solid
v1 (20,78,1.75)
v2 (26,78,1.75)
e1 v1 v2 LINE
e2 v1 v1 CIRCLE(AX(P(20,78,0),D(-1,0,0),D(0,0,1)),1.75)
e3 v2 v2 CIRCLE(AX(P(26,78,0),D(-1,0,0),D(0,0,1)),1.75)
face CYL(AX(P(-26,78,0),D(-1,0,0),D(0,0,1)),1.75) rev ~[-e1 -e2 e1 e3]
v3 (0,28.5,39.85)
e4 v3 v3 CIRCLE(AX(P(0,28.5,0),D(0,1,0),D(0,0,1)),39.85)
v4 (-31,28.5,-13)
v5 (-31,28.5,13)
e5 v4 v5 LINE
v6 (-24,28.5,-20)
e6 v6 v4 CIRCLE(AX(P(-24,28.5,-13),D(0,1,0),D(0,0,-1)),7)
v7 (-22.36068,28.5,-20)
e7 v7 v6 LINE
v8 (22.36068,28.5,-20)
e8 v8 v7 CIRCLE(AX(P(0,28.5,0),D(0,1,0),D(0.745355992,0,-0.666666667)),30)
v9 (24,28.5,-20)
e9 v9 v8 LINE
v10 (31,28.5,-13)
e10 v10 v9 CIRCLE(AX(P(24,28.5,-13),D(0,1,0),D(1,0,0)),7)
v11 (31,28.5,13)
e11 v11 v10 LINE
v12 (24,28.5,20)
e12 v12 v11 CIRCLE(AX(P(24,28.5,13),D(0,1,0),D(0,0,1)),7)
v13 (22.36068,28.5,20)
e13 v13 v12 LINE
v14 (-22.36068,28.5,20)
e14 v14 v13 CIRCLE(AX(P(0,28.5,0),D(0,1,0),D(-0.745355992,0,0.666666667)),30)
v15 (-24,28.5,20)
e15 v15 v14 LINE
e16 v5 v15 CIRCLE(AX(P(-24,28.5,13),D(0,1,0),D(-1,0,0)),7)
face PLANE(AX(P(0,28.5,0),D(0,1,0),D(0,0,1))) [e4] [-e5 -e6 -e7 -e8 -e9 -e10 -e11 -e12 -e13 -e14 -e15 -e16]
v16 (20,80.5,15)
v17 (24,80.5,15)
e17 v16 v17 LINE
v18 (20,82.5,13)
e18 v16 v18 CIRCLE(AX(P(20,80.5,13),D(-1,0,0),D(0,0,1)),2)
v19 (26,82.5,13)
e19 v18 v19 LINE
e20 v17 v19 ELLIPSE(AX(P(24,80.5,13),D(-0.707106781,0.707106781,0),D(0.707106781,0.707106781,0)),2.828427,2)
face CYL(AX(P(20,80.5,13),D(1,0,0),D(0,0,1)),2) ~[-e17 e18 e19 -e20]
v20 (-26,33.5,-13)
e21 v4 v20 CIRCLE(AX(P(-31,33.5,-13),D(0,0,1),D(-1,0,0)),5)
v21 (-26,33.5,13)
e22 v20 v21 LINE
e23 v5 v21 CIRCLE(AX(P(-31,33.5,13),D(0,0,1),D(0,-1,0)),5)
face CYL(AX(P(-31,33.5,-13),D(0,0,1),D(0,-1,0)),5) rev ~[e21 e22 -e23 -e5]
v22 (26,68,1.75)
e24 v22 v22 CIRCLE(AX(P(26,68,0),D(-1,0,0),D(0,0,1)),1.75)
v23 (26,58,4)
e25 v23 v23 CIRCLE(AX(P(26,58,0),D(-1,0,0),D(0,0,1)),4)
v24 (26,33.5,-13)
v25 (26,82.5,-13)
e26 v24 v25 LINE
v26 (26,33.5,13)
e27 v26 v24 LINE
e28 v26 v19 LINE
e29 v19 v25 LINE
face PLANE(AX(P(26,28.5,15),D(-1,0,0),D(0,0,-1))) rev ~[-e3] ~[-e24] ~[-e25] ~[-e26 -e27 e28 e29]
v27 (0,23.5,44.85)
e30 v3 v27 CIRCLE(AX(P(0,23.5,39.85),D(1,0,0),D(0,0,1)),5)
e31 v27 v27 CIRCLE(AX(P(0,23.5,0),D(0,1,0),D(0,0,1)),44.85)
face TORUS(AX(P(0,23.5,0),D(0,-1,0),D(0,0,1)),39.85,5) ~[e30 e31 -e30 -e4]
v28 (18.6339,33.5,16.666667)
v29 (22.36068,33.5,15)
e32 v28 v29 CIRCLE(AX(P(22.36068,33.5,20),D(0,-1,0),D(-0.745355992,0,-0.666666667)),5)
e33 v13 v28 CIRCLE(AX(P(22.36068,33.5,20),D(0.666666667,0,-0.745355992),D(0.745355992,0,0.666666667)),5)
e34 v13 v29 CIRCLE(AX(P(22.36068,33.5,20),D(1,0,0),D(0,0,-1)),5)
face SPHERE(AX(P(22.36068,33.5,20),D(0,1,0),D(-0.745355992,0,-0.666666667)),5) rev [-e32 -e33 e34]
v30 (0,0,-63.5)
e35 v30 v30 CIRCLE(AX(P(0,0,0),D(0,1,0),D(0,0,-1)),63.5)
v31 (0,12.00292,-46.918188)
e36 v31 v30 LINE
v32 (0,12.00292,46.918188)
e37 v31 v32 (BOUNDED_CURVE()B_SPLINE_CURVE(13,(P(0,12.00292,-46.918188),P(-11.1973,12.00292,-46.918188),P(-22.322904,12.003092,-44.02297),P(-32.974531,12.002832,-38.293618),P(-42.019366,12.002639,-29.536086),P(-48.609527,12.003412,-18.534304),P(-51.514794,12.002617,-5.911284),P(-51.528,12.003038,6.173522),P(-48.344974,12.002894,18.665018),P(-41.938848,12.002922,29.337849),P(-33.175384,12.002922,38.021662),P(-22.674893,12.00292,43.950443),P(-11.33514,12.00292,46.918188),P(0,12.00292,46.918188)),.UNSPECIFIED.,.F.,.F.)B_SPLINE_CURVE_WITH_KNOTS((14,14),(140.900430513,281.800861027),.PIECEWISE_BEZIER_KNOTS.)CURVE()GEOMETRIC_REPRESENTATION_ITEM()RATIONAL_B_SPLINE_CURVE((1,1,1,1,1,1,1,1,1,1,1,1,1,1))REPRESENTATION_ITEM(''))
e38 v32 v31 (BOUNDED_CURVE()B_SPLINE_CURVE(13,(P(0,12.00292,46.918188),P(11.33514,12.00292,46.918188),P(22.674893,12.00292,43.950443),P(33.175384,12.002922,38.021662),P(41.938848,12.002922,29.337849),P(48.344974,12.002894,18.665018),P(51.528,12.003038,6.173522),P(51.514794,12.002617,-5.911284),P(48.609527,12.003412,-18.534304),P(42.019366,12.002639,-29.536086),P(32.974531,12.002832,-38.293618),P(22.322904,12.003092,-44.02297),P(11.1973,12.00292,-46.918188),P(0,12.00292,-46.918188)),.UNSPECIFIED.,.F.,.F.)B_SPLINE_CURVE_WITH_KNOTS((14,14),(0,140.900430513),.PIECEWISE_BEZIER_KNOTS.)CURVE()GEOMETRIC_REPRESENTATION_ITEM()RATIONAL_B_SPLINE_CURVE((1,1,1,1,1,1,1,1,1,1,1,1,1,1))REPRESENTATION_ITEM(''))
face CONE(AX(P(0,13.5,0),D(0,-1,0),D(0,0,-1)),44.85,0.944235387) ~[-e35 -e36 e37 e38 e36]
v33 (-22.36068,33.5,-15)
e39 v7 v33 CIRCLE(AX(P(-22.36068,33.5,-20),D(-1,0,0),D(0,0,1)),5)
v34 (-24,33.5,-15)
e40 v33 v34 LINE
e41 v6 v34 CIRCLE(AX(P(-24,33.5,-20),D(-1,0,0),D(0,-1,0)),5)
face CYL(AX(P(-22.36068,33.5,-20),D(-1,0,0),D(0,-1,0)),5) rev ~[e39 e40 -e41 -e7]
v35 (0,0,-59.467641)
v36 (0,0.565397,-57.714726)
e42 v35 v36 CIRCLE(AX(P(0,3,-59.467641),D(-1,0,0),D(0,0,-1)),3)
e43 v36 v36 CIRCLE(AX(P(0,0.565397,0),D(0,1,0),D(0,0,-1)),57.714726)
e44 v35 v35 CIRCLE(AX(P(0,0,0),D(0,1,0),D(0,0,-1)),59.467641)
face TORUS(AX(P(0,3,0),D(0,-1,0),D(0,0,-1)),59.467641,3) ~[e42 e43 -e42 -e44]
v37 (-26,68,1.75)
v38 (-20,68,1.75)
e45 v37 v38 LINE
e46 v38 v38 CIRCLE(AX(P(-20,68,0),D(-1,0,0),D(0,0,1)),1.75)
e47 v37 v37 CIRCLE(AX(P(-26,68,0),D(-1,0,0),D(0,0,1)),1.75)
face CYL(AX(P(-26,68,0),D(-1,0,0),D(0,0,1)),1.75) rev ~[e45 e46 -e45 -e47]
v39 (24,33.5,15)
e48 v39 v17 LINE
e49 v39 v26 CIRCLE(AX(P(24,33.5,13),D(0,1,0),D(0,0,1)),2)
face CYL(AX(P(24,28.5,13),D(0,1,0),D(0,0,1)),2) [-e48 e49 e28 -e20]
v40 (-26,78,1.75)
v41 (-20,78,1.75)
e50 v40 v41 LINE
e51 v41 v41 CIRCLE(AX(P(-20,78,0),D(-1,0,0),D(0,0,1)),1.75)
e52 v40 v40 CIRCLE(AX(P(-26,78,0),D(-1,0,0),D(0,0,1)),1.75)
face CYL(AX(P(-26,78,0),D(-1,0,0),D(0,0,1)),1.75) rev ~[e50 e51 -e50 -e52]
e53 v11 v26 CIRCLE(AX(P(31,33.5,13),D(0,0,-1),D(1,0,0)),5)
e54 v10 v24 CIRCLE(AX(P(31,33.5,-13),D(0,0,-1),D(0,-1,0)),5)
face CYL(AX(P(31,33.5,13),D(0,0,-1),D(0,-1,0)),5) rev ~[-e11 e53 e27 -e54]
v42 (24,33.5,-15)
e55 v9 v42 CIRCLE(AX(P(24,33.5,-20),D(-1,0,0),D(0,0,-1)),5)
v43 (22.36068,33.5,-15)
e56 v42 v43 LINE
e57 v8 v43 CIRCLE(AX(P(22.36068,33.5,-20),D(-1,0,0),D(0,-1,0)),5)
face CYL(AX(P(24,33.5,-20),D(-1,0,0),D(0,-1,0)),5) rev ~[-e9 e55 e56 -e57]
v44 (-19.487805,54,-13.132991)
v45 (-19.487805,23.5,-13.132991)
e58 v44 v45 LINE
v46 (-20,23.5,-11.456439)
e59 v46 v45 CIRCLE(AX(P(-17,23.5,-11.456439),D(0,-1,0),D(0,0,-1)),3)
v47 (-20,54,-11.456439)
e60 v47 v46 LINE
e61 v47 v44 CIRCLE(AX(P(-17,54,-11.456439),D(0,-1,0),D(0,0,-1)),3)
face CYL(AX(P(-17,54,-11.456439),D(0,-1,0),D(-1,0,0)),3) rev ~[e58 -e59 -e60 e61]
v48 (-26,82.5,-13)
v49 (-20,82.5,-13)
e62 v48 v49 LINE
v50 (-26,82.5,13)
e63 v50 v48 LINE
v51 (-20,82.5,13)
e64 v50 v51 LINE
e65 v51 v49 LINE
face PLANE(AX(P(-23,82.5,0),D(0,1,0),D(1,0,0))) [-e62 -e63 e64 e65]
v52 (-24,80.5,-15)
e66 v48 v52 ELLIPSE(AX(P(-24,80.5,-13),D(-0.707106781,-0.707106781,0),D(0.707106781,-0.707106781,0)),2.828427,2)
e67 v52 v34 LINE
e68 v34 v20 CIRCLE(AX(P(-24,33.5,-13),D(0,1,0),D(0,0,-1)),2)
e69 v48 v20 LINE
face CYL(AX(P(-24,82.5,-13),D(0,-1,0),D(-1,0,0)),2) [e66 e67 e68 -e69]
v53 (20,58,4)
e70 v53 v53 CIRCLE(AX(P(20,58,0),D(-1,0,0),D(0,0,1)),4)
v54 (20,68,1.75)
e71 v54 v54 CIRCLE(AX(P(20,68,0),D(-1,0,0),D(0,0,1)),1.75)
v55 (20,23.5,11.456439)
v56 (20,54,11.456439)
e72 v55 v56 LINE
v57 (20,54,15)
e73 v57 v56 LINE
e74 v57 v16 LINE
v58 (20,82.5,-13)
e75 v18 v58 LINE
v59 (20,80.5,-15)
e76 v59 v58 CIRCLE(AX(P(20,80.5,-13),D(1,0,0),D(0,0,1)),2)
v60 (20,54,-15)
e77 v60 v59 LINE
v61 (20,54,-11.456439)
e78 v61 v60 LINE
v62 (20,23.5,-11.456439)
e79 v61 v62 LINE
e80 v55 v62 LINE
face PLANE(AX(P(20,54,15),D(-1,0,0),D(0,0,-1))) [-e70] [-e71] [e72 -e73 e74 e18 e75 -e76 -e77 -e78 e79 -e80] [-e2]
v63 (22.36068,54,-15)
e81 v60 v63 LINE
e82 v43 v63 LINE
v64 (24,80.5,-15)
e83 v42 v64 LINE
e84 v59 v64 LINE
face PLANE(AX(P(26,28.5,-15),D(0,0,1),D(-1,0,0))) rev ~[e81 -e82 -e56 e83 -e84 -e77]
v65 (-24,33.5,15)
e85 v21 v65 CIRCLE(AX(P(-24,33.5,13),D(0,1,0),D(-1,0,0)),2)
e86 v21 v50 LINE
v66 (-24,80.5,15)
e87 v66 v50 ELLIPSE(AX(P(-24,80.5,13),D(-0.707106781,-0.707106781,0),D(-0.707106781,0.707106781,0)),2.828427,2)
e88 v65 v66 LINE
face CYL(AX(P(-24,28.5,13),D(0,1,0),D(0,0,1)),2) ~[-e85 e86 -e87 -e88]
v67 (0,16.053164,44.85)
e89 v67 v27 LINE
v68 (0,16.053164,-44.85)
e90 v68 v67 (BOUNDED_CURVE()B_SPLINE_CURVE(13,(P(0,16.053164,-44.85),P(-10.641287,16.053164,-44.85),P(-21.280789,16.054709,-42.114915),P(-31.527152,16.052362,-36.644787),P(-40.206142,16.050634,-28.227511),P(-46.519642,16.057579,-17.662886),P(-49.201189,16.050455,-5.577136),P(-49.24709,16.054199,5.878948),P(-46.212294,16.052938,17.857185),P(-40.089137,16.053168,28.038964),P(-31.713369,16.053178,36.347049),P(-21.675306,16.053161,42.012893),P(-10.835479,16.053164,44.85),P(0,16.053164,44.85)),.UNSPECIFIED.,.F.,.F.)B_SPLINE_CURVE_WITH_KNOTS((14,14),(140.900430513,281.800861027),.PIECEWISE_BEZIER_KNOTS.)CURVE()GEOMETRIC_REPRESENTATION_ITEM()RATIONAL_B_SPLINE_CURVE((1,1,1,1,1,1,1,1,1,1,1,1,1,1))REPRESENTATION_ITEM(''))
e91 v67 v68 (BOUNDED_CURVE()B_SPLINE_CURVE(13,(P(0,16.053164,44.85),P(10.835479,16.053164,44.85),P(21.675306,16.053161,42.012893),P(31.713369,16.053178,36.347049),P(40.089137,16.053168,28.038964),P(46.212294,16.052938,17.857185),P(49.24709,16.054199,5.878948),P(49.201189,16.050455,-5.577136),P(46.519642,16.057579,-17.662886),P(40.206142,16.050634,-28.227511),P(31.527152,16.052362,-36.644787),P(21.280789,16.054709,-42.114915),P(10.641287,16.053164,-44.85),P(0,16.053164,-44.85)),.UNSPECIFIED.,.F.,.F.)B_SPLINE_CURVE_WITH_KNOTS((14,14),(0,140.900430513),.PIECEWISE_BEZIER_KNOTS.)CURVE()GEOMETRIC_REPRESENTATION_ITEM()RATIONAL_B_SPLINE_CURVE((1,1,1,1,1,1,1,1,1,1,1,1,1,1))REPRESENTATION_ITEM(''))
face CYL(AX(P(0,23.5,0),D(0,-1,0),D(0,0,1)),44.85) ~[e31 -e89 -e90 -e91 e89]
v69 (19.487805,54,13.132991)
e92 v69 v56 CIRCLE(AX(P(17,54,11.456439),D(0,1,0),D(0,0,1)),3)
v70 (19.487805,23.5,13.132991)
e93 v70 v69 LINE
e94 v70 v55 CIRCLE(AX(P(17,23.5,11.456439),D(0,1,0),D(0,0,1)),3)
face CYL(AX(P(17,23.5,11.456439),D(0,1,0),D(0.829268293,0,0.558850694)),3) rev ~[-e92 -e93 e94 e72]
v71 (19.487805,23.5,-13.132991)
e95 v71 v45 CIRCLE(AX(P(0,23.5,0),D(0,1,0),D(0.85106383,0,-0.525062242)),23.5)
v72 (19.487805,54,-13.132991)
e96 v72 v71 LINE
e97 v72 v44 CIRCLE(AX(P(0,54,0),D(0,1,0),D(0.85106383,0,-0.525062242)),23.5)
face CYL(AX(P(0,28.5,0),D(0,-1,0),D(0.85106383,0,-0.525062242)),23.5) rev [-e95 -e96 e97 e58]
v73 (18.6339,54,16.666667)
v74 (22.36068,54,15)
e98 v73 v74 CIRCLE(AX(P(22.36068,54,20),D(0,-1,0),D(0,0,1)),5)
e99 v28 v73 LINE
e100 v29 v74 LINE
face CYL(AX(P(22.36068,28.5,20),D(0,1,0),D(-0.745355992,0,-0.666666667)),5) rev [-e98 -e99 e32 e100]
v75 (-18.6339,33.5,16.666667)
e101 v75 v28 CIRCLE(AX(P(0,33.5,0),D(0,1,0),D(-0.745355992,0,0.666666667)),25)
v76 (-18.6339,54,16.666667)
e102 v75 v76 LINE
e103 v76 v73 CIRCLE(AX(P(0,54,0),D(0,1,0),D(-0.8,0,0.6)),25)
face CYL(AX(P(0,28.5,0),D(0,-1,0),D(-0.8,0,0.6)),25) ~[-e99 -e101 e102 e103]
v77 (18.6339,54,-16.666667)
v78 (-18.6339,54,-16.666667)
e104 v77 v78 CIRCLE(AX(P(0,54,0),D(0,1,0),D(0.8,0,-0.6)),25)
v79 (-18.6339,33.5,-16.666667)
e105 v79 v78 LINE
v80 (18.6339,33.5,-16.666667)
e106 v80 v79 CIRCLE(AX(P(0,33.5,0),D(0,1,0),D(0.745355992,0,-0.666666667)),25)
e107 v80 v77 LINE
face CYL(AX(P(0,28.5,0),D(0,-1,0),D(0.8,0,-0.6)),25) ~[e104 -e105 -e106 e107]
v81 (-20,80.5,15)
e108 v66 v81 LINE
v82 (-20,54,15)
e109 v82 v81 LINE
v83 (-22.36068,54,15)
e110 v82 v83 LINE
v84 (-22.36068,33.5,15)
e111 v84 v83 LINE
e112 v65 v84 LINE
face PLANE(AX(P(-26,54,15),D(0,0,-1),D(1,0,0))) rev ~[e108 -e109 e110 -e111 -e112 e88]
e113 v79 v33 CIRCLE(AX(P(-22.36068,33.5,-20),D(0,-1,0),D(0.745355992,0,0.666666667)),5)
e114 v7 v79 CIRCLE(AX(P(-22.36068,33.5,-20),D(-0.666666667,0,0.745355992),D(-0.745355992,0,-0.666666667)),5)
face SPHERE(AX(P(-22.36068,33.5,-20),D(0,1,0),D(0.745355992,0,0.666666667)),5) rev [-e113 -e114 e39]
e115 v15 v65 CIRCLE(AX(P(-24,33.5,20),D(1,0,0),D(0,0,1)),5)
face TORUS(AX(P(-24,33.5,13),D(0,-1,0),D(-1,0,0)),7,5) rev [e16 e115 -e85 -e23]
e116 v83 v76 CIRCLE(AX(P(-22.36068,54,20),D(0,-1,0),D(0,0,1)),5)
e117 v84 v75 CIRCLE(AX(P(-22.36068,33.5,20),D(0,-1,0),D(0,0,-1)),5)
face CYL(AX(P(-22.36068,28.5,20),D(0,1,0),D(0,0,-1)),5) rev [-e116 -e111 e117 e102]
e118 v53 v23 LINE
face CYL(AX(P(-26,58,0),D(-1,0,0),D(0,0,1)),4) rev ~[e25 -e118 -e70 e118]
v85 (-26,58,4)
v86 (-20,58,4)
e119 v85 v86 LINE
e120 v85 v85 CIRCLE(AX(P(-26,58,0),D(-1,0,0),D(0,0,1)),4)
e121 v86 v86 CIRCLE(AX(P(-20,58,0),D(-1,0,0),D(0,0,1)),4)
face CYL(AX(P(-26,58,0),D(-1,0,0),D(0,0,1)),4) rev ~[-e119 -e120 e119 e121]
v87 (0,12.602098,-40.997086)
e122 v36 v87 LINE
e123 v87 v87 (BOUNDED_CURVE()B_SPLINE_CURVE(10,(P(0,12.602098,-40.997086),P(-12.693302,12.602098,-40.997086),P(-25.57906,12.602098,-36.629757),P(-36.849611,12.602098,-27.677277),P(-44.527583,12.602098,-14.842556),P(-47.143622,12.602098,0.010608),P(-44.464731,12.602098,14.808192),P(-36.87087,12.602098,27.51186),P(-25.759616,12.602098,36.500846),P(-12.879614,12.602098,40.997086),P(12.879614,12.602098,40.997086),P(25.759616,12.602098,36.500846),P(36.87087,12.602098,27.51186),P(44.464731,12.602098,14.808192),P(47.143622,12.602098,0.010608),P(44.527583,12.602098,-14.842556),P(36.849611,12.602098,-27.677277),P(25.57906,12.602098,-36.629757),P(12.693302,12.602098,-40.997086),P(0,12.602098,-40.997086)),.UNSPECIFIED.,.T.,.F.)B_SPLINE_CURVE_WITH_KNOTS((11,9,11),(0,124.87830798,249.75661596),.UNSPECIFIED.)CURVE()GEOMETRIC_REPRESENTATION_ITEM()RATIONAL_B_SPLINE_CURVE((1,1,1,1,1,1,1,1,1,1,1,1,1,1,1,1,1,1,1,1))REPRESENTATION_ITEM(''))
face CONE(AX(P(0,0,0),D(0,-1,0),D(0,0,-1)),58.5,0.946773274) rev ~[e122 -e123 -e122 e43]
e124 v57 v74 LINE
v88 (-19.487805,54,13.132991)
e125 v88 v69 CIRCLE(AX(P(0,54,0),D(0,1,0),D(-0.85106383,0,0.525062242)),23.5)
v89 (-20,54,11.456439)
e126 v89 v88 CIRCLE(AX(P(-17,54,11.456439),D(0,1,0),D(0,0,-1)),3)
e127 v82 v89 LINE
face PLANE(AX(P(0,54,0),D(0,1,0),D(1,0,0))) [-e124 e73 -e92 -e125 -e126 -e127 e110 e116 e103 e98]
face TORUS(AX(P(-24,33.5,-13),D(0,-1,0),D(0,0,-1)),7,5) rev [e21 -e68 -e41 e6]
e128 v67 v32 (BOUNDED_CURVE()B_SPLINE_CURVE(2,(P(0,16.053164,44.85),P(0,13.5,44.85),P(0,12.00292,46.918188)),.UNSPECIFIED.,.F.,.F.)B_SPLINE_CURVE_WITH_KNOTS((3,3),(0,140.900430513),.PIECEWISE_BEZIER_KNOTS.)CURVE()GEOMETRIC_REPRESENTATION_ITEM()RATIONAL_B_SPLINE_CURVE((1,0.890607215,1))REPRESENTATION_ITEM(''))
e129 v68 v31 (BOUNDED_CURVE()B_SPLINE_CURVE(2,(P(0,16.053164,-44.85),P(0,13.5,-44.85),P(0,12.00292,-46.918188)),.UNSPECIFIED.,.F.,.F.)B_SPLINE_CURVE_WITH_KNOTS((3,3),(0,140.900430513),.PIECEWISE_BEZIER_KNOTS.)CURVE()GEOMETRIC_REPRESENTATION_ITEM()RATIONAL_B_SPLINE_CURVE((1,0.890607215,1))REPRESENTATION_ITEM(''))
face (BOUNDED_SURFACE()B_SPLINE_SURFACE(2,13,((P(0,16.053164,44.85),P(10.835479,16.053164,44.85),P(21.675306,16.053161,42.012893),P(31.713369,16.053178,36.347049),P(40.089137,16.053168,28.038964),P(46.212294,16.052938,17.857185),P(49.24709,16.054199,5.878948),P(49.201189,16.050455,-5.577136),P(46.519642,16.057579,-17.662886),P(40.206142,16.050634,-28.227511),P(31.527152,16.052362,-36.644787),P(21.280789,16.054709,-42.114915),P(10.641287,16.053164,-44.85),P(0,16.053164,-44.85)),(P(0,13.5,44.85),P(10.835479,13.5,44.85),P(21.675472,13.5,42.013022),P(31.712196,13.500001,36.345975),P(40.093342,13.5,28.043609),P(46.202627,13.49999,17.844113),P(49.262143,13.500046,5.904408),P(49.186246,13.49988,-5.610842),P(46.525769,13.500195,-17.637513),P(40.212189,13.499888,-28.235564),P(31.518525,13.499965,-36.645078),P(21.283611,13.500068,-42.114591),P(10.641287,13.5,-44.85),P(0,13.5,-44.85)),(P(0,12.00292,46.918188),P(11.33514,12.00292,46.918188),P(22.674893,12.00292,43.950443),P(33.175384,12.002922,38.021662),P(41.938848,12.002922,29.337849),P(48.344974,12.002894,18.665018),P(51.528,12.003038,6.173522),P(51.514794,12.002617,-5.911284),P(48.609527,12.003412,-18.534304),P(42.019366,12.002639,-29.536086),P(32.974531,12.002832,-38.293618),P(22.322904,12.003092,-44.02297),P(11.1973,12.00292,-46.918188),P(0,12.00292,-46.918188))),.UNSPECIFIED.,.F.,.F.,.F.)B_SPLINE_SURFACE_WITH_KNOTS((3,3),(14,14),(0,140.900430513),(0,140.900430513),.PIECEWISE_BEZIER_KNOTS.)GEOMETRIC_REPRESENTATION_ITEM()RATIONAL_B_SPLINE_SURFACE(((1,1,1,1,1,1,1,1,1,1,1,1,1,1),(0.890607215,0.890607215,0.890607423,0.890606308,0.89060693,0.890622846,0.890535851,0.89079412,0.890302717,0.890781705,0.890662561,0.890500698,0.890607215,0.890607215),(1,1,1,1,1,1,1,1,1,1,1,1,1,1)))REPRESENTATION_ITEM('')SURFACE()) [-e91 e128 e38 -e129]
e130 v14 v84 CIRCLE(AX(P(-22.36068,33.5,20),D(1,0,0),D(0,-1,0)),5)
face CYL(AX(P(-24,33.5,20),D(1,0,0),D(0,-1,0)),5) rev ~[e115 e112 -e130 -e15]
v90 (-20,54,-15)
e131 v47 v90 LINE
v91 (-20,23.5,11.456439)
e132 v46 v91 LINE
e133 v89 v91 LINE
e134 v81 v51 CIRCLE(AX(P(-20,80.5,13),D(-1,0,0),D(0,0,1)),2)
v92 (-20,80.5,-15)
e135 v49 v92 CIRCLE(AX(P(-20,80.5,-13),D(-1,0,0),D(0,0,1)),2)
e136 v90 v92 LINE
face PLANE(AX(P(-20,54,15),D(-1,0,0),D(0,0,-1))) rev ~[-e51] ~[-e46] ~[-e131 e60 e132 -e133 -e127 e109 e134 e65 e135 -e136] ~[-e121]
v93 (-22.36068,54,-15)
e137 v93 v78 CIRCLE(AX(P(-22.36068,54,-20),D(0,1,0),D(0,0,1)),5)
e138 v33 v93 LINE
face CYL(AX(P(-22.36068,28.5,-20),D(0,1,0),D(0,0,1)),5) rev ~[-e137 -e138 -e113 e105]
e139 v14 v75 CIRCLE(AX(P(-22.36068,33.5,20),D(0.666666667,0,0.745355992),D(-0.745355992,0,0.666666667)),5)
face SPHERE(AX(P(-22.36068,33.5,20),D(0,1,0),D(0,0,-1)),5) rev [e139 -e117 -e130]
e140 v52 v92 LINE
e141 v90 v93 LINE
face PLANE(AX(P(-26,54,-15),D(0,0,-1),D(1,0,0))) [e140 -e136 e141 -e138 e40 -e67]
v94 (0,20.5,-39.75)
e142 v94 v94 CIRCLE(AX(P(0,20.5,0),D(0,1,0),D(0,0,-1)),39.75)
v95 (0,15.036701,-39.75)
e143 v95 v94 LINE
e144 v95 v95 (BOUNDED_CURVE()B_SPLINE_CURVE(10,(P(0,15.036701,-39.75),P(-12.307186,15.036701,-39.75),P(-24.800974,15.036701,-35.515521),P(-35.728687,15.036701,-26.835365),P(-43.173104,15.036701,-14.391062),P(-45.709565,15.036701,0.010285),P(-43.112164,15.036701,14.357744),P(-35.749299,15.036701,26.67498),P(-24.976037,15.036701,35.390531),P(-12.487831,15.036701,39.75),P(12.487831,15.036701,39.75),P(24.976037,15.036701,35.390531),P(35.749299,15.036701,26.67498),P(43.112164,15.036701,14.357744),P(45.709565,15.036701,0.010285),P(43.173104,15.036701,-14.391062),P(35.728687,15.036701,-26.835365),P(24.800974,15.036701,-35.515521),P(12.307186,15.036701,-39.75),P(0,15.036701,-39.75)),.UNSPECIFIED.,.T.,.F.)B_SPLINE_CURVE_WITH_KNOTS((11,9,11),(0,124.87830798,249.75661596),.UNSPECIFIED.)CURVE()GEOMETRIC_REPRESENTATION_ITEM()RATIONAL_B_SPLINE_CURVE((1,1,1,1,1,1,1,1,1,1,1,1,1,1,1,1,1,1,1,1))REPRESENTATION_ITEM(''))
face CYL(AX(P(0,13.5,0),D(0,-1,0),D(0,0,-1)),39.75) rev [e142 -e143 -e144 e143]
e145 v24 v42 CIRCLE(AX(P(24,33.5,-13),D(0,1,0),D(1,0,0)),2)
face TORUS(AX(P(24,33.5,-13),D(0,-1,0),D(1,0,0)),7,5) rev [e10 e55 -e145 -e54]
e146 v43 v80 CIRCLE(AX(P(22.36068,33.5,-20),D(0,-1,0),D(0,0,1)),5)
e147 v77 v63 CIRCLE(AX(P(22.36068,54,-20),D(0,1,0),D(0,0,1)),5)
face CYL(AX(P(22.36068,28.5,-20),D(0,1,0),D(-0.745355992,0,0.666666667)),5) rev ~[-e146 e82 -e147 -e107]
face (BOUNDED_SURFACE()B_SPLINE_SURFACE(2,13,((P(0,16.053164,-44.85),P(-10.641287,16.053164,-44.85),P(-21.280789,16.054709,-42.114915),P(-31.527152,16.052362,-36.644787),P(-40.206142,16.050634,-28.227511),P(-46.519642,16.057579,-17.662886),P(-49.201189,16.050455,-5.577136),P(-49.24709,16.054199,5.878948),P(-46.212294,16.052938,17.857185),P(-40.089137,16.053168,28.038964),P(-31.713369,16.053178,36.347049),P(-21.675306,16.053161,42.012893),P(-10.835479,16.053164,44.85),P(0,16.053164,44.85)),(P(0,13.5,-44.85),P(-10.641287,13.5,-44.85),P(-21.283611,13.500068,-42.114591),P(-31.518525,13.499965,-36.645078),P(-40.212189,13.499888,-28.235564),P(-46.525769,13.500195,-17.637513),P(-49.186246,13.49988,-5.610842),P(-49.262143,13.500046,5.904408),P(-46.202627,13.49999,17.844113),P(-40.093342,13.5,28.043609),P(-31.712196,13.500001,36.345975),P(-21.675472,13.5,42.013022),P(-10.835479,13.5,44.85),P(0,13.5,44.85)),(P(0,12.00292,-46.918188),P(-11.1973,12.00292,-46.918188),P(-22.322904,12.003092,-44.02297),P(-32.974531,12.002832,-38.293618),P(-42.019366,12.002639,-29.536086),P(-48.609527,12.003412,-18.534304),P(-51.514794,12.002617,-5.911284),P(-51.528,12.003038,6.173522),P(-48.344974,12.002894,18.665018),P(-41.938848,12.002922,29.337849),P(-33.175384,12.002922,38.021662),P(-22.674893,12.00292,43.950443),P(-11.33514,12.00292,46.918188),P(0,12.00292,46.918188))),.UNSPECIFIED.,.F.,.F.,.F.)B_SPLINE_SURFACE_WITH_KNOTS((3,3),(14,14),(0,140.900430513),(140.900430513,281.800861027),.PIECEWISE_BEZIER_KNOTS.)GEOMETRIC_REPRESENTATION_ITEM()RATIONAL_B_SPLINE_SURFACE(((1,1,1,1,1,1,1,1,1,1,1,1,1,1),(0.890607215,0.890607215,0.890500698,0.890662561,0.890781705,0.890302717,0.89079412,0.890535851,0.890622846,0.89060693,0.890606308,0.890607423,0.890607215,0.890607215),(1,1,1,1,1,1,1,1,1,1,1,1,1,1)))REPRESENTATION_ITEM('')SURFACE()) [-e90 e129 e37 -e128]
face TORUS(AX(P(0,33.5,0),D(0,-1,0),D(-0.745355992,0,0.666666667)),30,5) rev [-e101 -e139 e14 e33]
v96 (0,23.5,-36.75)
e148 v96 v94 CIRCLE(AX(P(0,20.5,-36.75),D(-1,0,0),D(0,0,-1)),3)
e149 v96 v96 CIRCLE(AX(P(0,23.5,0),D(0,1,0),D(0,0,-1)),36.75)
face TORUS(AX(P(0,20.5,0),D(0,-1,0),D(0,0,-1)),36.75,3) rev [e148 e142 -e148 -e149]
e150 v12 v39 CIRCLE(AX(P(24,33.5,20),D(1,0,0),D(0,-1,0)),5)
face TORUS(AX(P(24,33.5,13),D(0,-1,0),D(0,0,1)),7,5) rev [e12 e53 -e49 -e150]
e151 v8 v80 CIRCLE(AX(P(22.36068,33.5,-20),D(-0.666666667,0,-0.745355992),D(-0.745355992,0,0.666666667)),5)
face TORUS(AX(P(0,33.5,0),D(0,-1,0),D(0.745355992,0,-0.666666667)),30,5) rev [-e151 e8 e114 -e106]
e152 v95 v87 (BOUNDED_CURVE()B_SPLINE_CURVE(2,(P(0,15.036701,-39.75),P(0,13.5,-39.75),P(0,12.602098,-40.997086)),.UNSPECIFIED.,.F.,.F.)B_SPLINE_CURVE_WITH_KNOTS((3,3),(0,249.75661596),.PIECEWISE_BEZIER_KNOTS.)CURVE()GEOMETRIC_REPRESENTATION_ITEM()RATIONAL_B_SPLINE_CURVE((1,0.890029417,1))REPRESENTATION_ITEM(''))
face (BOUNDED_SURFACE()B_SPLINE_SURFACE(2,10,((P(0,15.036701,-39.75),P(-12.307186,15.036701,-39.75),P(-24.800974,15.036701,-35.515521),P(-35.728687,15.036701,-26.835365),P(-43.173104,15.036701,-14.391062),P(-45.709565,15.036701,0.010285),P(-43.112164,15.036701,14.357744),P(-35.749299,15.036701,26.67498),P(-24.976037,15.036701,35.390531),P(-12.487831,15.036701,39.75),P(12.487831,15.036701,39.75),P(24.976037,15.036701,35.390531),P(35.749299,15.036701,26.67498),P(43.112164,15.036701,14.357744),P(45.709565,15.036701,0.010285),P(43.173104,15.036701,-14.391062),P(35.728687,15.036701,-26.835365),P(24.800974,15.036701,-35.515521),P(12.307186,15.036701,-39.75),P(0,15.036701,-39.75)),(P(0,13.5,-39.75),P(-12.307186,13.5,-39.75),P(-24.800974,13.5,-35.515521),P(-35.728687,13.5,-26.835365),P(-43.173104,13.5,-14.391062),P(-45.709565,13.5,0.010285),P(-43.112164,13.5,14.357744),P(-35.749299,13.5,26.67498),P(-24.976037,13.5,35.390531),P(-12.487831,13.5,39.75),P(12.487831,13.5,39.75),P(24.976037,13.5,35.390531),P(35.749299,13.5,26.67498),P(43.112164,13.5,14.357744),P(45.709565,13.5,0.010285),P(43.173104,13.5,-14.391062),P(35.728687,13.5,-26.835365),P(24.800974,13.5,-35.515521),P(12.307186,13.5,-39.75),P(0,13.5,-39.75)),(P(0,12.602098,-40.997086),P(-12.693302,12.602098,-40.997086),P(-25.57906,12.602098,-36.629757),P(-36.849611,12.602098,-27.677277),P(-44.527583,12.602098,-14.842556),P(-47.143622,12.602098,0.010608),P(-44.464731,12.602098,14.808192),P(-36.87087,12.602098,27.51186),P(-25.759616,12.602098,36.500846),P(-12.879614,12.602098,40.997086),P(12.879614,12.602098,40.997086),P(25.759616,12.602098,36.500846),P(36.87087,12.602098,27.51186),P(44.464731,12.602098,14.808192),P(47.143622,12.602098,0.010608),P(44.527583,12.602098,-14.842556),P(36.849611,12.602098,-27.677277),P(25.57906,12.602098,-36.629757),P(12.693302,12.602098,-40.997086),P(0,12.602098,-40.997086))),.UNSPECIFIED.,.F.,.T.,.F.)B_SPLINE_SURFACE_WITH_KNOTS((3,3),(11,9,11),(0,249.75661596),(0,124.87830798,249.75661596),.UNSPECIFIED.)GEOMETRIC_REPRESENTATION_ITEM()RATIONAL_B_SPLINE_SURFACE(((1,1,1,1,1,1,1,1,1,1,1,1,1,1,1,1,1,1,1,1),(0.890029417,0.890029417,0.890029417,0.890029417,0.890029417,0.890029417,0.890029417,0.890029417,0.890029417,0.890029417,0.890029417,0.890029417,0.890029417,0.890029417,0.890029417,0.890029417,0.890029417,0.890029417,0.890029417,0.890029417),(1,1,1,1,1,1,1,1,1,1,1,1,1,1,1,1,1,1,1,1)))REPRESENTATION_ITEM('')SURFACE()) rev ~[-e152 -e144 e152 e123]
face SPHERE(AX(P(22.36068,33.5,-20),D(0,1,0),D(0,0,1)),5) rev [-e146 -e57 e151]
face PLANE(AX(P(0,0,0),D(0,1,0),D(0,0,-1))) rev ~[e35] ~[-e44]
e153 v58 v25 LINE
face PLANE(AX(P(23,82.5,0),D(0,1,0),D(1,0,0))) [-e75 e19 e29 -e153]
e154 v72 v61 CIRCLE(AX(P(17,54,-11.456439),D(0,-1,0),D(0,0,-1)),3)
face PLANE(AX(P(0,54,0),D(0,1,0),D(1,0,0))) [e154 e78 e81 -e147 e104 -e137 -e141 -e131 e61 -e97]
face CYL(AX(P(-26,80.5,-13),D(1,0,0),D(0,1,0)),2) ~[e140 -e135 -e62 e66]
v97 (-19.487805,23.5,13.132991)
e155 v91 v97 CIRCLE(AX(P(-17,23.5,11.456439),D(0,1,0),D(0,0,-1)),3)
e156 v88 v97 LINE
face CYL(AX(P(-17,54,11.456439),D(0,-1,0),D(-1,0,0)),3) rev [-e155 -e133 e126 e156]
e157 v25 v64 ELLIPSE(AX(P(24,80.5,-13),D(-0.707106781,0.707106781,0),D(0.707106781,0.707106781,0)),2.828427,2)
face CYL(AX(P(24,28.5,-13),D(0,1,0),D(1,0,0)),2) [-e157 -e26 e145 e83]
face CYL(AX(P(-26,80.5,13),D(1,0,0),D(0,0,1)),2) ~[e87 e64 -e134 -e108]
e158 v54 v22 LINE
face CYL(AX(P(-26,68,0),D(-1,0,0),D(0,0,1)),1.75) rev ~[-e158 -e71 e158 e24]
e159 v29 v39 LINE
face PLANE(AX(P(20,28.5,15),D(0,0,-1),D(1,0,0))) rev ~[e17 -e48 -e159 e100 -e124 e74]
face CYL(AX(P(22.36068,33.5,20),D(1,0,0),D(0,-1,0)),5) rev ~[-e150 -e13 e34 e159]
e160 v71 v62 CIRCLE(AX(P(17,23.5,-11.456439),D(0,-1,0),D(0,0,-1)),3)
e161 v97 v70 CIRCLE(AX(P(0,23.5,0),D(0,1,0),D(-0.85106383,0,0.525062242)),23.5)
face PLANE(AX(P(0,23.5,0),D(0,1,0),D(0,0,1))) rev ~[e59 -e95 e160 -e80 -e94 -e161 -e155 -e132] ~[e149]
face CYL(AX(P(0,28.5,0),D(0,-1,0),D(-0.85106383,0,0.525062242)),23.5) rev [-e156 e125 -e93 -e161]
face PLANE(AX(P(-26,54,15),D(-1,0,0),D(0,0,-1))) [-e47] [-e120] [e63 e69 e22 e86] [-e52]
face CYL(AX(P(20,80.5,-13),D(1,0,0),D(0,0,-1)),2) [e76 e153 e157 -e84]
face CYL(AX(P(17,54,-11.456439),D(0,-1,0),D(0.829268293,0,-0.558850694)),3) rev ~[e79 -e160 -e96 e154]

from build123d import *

# Parameters (mm, degrees)
SKETCH_4_R          = 44.85
SKETCH_4_R_2        = 39.75
EXTRUDE_1_DEPTH     = 10
SKETCH_5_R          = 44.85
EXTRUDE_2_DEPTH     = 5
EXTRUDE_3_DEPTH     = 25.5
SKETCH_7_W          = 6
SKETCH_7_H          = 30
EXTRUDE_4_DEPTH     = 28.5
SKETCH_8_R          = 1.75
SKETCH_8_R_2        = 4
CUT_EXTRUDE_1_DEPTH = 138.29074987
FILLET_1_R          = 5
FILLET_2_R          = 2
FILLET_3_R          = 5
FILLET_4_R          = 3
FILLET_5_R          = 3


with BuildPart() as part:
    # 草图3 → 旋转1 (revolve)
    with BuildSketch(Plane(origin=(0, 0, 0), x_dir=(0, 0, -1), z_dir=(1, 0, 0)), mode=Mode.PRIVATE) as revolve_1_sk:
        Polygon((-44.85, 13.5), (-63.5, 0), (-58.5, 0), (-39.75, 13.5), align=None)
    revolve(revolve_1_sk.sketch.rotate(Axis((0, 0, 0), (0, 1, 0)), 180), axis=Axis((0, 0, 0), (0, 1, 0)))

    # 草图4 → 凸台-拉伸1 (add)
    with BuildSketch(Plane(origin=(0, 13.5, 0), x_dir=(1, 0, 0), z_dir=(0, 1, 0))):
        with Locations(Location((0, 0, 0), (0, 0, 270))):
            Circle(SKETCH_4_R)
        with Locations(Location((0, 0, 0), (0, 0, 90))):
            Circle(SKETCH_4_R_2, mode=Mode.SUBTRACT)
    extrude(amount=EXTRUDE_1_DEPTH)

    # 草图5 → 凸台-拉伸2 (add)
    with BuildSketch(Plane(origin=(0, 23.5, 0), x_dir=(1, 0, 0), z_dir=(0, 1, 0))):
        with Locations(Location((0, 0, 0), (0, 0, 270))):
            Circle(SKETCH_5_R)
        with BuildLine():
            Line((-20, 12.338962679), (-20, -12.338962679))
            ThreePointArc((-20, -12.338962679), (0, -23.5), (20, -12.338962679))
            Line((20, -12.338962679), (20, 12.338962679))
            ThreePointArc((20, 12.338962679), (0, 23.5), (-20, 12.338962679))
        make_face(mode=Mode.SUBTRACT)
    extrude(amount=EXTRUDE_2_DEPTH)

    # 草图6 → 凸台-拉伸3 (add)
    with BuildSketch(Plane(origin=(0, 28.5, 0), x_dir=(1, 0, 0), z_dir=(0, 1, 0))):
        with BuildLine():
            Line((-26, -15), (-20, -15))
            ThreePointArc((-20, -15), (0, -25), (20, -15))
            Line((20, -15), (26, -15))
            Line((26, -15), (26, 15))
            Line((26, 15), (20, 15))
            ThreePointArc((20, 15), (0, 25), (-20, 15))
            Line((-20, 15), (-26, 15))
            Line((-26, 15), (-26, -15))
        make_face()
        with BuildLine():
            Line((20, -12.338962679), (20, 12.338962679))
            ThreePointArc((20, 12.338962679), (0, 23.5), (-20, 12.338962679))
            Line((-20, 12.338962679), (-20, -12.338962679))
            ThreePointArc((-20, -12.338962679), (0, -23.5), (20, -12.338962679))
        make_face(mode=Mode.SUBTRACT)
    extrude(amount=EXTRUDE_3_DEPTH)

    # 草图7 → 凸台-拉伸4 (add)
    with BuildSketch(Plane(origin=(0, 54, 0), x_dir=(1, 0, 0), z_dir=(0, 1, 0))):
        with Locations((-23, 0)):
            Rectangle(SKETCH_7_W, SKETCH_7_H)
        with Locations((23, 0)):
            Rectangle(SKETCH_7_W, SKETCH_7_H)
    extrude(amount=EXTRUDE_4_DEPTH)

    # 草图8 → 切除-拉伸1 (cut, through all)
    with BuildSketch(Plane.ZY.offset(26)):
        with Locations((0, 78)):
            Circle(SKETCH_8_R)
        with Locations((0, 68)):
            Circle(SKETCH_8_R)
        with Locations((0, 58)):
            Circle(SKETCH_8_R_2)
    extrude(amount=-CUT_EXTRUDE_1_DEPTH, mode=Mode.SUBTRACT)

    # 圆角1
    fillet_1_edges = [part.edges().sort_by_distance(p)[0] for p in [
        (-20, 41.25, 15),
        (20, 41.25, 15),
        (20, 41.25, -15),
        (-20, 41.25, -15),
    ]]
    fillet(fillet_1_edges, radius=FILLET_1_R)

    # 圆角2
    fillet_2_edges = [part.edges().sort_by_distance(p)[0] for p in [
        (26, 55.5, 15),
        (26, 55.5, -15),
        (-26, 55.5, -15),
        (-26, 55.5, 15),
        (-23, 82.5, 15),
        (-23, 82.5, -15),
        (23, 82.5, -15),
        (23, 82.5, 15),
    ]]
    fillet(fillet_2_edges, radius=FILLET_2_R)

    # 圆角3
    fillet_3_edges = [part.edges().sort_by_distance(p)[0] for p in [
        (44.85, 13.5, 0),
        (0, 28.5, 25),
        (0, 28.5, -25),
        (-20.319438323, 28.5, -15.435645354),
        (20.319438323, 28.5, -15.435645354),
        (-20.319438323, 28.5, 15.435645354),
        (20.319438323, 28.5, 15.435645354),
        (-23.180339887, 28.5, 15),
        (-23.180339887, 28.5, -15),
        (0, 28.5, -44.85),
        (23.180339887, 28.5, 15),
        (23.180339887, 28.5, -15),
        (-26, 28.5, 0),
        (26, 28.5, 0),
        (-25.414213562, 28.5, -14.414213562),
        (25.414213562, 28.5, -14.414213562),
        (-25.414213562, 28.5, 14.414213562),
        (25.414213562, 28.5, 14.414213562),
    ]]
    fillet(fillet_3_edges, radius=FILLET_3_R)

    # 圆角4
    fillet_4_edges = [part.edges().sort_by_distance(p)[0] for p in [
        (0, 23.5, 39.75),
        (-20, 38.75, -12.338962679),
        (-20, 38.75, 12.338962679),
        (20, 38.75, 12.338962679),
        (20, 38.75, -12.338962679),
        (0, 13.5, 39.75),
    ]]
    fillet(fillet_4_edges, radius=FILLET_4_R)

    # 圆角5
    fillet_5_edges = [part.edges().sort_by_distance(p)[0] for p in [
        (0, 0, 58.5),
    ]]
    fillet(fillet_5_edges, radius=FILLET_5_R)


solid = part.part
